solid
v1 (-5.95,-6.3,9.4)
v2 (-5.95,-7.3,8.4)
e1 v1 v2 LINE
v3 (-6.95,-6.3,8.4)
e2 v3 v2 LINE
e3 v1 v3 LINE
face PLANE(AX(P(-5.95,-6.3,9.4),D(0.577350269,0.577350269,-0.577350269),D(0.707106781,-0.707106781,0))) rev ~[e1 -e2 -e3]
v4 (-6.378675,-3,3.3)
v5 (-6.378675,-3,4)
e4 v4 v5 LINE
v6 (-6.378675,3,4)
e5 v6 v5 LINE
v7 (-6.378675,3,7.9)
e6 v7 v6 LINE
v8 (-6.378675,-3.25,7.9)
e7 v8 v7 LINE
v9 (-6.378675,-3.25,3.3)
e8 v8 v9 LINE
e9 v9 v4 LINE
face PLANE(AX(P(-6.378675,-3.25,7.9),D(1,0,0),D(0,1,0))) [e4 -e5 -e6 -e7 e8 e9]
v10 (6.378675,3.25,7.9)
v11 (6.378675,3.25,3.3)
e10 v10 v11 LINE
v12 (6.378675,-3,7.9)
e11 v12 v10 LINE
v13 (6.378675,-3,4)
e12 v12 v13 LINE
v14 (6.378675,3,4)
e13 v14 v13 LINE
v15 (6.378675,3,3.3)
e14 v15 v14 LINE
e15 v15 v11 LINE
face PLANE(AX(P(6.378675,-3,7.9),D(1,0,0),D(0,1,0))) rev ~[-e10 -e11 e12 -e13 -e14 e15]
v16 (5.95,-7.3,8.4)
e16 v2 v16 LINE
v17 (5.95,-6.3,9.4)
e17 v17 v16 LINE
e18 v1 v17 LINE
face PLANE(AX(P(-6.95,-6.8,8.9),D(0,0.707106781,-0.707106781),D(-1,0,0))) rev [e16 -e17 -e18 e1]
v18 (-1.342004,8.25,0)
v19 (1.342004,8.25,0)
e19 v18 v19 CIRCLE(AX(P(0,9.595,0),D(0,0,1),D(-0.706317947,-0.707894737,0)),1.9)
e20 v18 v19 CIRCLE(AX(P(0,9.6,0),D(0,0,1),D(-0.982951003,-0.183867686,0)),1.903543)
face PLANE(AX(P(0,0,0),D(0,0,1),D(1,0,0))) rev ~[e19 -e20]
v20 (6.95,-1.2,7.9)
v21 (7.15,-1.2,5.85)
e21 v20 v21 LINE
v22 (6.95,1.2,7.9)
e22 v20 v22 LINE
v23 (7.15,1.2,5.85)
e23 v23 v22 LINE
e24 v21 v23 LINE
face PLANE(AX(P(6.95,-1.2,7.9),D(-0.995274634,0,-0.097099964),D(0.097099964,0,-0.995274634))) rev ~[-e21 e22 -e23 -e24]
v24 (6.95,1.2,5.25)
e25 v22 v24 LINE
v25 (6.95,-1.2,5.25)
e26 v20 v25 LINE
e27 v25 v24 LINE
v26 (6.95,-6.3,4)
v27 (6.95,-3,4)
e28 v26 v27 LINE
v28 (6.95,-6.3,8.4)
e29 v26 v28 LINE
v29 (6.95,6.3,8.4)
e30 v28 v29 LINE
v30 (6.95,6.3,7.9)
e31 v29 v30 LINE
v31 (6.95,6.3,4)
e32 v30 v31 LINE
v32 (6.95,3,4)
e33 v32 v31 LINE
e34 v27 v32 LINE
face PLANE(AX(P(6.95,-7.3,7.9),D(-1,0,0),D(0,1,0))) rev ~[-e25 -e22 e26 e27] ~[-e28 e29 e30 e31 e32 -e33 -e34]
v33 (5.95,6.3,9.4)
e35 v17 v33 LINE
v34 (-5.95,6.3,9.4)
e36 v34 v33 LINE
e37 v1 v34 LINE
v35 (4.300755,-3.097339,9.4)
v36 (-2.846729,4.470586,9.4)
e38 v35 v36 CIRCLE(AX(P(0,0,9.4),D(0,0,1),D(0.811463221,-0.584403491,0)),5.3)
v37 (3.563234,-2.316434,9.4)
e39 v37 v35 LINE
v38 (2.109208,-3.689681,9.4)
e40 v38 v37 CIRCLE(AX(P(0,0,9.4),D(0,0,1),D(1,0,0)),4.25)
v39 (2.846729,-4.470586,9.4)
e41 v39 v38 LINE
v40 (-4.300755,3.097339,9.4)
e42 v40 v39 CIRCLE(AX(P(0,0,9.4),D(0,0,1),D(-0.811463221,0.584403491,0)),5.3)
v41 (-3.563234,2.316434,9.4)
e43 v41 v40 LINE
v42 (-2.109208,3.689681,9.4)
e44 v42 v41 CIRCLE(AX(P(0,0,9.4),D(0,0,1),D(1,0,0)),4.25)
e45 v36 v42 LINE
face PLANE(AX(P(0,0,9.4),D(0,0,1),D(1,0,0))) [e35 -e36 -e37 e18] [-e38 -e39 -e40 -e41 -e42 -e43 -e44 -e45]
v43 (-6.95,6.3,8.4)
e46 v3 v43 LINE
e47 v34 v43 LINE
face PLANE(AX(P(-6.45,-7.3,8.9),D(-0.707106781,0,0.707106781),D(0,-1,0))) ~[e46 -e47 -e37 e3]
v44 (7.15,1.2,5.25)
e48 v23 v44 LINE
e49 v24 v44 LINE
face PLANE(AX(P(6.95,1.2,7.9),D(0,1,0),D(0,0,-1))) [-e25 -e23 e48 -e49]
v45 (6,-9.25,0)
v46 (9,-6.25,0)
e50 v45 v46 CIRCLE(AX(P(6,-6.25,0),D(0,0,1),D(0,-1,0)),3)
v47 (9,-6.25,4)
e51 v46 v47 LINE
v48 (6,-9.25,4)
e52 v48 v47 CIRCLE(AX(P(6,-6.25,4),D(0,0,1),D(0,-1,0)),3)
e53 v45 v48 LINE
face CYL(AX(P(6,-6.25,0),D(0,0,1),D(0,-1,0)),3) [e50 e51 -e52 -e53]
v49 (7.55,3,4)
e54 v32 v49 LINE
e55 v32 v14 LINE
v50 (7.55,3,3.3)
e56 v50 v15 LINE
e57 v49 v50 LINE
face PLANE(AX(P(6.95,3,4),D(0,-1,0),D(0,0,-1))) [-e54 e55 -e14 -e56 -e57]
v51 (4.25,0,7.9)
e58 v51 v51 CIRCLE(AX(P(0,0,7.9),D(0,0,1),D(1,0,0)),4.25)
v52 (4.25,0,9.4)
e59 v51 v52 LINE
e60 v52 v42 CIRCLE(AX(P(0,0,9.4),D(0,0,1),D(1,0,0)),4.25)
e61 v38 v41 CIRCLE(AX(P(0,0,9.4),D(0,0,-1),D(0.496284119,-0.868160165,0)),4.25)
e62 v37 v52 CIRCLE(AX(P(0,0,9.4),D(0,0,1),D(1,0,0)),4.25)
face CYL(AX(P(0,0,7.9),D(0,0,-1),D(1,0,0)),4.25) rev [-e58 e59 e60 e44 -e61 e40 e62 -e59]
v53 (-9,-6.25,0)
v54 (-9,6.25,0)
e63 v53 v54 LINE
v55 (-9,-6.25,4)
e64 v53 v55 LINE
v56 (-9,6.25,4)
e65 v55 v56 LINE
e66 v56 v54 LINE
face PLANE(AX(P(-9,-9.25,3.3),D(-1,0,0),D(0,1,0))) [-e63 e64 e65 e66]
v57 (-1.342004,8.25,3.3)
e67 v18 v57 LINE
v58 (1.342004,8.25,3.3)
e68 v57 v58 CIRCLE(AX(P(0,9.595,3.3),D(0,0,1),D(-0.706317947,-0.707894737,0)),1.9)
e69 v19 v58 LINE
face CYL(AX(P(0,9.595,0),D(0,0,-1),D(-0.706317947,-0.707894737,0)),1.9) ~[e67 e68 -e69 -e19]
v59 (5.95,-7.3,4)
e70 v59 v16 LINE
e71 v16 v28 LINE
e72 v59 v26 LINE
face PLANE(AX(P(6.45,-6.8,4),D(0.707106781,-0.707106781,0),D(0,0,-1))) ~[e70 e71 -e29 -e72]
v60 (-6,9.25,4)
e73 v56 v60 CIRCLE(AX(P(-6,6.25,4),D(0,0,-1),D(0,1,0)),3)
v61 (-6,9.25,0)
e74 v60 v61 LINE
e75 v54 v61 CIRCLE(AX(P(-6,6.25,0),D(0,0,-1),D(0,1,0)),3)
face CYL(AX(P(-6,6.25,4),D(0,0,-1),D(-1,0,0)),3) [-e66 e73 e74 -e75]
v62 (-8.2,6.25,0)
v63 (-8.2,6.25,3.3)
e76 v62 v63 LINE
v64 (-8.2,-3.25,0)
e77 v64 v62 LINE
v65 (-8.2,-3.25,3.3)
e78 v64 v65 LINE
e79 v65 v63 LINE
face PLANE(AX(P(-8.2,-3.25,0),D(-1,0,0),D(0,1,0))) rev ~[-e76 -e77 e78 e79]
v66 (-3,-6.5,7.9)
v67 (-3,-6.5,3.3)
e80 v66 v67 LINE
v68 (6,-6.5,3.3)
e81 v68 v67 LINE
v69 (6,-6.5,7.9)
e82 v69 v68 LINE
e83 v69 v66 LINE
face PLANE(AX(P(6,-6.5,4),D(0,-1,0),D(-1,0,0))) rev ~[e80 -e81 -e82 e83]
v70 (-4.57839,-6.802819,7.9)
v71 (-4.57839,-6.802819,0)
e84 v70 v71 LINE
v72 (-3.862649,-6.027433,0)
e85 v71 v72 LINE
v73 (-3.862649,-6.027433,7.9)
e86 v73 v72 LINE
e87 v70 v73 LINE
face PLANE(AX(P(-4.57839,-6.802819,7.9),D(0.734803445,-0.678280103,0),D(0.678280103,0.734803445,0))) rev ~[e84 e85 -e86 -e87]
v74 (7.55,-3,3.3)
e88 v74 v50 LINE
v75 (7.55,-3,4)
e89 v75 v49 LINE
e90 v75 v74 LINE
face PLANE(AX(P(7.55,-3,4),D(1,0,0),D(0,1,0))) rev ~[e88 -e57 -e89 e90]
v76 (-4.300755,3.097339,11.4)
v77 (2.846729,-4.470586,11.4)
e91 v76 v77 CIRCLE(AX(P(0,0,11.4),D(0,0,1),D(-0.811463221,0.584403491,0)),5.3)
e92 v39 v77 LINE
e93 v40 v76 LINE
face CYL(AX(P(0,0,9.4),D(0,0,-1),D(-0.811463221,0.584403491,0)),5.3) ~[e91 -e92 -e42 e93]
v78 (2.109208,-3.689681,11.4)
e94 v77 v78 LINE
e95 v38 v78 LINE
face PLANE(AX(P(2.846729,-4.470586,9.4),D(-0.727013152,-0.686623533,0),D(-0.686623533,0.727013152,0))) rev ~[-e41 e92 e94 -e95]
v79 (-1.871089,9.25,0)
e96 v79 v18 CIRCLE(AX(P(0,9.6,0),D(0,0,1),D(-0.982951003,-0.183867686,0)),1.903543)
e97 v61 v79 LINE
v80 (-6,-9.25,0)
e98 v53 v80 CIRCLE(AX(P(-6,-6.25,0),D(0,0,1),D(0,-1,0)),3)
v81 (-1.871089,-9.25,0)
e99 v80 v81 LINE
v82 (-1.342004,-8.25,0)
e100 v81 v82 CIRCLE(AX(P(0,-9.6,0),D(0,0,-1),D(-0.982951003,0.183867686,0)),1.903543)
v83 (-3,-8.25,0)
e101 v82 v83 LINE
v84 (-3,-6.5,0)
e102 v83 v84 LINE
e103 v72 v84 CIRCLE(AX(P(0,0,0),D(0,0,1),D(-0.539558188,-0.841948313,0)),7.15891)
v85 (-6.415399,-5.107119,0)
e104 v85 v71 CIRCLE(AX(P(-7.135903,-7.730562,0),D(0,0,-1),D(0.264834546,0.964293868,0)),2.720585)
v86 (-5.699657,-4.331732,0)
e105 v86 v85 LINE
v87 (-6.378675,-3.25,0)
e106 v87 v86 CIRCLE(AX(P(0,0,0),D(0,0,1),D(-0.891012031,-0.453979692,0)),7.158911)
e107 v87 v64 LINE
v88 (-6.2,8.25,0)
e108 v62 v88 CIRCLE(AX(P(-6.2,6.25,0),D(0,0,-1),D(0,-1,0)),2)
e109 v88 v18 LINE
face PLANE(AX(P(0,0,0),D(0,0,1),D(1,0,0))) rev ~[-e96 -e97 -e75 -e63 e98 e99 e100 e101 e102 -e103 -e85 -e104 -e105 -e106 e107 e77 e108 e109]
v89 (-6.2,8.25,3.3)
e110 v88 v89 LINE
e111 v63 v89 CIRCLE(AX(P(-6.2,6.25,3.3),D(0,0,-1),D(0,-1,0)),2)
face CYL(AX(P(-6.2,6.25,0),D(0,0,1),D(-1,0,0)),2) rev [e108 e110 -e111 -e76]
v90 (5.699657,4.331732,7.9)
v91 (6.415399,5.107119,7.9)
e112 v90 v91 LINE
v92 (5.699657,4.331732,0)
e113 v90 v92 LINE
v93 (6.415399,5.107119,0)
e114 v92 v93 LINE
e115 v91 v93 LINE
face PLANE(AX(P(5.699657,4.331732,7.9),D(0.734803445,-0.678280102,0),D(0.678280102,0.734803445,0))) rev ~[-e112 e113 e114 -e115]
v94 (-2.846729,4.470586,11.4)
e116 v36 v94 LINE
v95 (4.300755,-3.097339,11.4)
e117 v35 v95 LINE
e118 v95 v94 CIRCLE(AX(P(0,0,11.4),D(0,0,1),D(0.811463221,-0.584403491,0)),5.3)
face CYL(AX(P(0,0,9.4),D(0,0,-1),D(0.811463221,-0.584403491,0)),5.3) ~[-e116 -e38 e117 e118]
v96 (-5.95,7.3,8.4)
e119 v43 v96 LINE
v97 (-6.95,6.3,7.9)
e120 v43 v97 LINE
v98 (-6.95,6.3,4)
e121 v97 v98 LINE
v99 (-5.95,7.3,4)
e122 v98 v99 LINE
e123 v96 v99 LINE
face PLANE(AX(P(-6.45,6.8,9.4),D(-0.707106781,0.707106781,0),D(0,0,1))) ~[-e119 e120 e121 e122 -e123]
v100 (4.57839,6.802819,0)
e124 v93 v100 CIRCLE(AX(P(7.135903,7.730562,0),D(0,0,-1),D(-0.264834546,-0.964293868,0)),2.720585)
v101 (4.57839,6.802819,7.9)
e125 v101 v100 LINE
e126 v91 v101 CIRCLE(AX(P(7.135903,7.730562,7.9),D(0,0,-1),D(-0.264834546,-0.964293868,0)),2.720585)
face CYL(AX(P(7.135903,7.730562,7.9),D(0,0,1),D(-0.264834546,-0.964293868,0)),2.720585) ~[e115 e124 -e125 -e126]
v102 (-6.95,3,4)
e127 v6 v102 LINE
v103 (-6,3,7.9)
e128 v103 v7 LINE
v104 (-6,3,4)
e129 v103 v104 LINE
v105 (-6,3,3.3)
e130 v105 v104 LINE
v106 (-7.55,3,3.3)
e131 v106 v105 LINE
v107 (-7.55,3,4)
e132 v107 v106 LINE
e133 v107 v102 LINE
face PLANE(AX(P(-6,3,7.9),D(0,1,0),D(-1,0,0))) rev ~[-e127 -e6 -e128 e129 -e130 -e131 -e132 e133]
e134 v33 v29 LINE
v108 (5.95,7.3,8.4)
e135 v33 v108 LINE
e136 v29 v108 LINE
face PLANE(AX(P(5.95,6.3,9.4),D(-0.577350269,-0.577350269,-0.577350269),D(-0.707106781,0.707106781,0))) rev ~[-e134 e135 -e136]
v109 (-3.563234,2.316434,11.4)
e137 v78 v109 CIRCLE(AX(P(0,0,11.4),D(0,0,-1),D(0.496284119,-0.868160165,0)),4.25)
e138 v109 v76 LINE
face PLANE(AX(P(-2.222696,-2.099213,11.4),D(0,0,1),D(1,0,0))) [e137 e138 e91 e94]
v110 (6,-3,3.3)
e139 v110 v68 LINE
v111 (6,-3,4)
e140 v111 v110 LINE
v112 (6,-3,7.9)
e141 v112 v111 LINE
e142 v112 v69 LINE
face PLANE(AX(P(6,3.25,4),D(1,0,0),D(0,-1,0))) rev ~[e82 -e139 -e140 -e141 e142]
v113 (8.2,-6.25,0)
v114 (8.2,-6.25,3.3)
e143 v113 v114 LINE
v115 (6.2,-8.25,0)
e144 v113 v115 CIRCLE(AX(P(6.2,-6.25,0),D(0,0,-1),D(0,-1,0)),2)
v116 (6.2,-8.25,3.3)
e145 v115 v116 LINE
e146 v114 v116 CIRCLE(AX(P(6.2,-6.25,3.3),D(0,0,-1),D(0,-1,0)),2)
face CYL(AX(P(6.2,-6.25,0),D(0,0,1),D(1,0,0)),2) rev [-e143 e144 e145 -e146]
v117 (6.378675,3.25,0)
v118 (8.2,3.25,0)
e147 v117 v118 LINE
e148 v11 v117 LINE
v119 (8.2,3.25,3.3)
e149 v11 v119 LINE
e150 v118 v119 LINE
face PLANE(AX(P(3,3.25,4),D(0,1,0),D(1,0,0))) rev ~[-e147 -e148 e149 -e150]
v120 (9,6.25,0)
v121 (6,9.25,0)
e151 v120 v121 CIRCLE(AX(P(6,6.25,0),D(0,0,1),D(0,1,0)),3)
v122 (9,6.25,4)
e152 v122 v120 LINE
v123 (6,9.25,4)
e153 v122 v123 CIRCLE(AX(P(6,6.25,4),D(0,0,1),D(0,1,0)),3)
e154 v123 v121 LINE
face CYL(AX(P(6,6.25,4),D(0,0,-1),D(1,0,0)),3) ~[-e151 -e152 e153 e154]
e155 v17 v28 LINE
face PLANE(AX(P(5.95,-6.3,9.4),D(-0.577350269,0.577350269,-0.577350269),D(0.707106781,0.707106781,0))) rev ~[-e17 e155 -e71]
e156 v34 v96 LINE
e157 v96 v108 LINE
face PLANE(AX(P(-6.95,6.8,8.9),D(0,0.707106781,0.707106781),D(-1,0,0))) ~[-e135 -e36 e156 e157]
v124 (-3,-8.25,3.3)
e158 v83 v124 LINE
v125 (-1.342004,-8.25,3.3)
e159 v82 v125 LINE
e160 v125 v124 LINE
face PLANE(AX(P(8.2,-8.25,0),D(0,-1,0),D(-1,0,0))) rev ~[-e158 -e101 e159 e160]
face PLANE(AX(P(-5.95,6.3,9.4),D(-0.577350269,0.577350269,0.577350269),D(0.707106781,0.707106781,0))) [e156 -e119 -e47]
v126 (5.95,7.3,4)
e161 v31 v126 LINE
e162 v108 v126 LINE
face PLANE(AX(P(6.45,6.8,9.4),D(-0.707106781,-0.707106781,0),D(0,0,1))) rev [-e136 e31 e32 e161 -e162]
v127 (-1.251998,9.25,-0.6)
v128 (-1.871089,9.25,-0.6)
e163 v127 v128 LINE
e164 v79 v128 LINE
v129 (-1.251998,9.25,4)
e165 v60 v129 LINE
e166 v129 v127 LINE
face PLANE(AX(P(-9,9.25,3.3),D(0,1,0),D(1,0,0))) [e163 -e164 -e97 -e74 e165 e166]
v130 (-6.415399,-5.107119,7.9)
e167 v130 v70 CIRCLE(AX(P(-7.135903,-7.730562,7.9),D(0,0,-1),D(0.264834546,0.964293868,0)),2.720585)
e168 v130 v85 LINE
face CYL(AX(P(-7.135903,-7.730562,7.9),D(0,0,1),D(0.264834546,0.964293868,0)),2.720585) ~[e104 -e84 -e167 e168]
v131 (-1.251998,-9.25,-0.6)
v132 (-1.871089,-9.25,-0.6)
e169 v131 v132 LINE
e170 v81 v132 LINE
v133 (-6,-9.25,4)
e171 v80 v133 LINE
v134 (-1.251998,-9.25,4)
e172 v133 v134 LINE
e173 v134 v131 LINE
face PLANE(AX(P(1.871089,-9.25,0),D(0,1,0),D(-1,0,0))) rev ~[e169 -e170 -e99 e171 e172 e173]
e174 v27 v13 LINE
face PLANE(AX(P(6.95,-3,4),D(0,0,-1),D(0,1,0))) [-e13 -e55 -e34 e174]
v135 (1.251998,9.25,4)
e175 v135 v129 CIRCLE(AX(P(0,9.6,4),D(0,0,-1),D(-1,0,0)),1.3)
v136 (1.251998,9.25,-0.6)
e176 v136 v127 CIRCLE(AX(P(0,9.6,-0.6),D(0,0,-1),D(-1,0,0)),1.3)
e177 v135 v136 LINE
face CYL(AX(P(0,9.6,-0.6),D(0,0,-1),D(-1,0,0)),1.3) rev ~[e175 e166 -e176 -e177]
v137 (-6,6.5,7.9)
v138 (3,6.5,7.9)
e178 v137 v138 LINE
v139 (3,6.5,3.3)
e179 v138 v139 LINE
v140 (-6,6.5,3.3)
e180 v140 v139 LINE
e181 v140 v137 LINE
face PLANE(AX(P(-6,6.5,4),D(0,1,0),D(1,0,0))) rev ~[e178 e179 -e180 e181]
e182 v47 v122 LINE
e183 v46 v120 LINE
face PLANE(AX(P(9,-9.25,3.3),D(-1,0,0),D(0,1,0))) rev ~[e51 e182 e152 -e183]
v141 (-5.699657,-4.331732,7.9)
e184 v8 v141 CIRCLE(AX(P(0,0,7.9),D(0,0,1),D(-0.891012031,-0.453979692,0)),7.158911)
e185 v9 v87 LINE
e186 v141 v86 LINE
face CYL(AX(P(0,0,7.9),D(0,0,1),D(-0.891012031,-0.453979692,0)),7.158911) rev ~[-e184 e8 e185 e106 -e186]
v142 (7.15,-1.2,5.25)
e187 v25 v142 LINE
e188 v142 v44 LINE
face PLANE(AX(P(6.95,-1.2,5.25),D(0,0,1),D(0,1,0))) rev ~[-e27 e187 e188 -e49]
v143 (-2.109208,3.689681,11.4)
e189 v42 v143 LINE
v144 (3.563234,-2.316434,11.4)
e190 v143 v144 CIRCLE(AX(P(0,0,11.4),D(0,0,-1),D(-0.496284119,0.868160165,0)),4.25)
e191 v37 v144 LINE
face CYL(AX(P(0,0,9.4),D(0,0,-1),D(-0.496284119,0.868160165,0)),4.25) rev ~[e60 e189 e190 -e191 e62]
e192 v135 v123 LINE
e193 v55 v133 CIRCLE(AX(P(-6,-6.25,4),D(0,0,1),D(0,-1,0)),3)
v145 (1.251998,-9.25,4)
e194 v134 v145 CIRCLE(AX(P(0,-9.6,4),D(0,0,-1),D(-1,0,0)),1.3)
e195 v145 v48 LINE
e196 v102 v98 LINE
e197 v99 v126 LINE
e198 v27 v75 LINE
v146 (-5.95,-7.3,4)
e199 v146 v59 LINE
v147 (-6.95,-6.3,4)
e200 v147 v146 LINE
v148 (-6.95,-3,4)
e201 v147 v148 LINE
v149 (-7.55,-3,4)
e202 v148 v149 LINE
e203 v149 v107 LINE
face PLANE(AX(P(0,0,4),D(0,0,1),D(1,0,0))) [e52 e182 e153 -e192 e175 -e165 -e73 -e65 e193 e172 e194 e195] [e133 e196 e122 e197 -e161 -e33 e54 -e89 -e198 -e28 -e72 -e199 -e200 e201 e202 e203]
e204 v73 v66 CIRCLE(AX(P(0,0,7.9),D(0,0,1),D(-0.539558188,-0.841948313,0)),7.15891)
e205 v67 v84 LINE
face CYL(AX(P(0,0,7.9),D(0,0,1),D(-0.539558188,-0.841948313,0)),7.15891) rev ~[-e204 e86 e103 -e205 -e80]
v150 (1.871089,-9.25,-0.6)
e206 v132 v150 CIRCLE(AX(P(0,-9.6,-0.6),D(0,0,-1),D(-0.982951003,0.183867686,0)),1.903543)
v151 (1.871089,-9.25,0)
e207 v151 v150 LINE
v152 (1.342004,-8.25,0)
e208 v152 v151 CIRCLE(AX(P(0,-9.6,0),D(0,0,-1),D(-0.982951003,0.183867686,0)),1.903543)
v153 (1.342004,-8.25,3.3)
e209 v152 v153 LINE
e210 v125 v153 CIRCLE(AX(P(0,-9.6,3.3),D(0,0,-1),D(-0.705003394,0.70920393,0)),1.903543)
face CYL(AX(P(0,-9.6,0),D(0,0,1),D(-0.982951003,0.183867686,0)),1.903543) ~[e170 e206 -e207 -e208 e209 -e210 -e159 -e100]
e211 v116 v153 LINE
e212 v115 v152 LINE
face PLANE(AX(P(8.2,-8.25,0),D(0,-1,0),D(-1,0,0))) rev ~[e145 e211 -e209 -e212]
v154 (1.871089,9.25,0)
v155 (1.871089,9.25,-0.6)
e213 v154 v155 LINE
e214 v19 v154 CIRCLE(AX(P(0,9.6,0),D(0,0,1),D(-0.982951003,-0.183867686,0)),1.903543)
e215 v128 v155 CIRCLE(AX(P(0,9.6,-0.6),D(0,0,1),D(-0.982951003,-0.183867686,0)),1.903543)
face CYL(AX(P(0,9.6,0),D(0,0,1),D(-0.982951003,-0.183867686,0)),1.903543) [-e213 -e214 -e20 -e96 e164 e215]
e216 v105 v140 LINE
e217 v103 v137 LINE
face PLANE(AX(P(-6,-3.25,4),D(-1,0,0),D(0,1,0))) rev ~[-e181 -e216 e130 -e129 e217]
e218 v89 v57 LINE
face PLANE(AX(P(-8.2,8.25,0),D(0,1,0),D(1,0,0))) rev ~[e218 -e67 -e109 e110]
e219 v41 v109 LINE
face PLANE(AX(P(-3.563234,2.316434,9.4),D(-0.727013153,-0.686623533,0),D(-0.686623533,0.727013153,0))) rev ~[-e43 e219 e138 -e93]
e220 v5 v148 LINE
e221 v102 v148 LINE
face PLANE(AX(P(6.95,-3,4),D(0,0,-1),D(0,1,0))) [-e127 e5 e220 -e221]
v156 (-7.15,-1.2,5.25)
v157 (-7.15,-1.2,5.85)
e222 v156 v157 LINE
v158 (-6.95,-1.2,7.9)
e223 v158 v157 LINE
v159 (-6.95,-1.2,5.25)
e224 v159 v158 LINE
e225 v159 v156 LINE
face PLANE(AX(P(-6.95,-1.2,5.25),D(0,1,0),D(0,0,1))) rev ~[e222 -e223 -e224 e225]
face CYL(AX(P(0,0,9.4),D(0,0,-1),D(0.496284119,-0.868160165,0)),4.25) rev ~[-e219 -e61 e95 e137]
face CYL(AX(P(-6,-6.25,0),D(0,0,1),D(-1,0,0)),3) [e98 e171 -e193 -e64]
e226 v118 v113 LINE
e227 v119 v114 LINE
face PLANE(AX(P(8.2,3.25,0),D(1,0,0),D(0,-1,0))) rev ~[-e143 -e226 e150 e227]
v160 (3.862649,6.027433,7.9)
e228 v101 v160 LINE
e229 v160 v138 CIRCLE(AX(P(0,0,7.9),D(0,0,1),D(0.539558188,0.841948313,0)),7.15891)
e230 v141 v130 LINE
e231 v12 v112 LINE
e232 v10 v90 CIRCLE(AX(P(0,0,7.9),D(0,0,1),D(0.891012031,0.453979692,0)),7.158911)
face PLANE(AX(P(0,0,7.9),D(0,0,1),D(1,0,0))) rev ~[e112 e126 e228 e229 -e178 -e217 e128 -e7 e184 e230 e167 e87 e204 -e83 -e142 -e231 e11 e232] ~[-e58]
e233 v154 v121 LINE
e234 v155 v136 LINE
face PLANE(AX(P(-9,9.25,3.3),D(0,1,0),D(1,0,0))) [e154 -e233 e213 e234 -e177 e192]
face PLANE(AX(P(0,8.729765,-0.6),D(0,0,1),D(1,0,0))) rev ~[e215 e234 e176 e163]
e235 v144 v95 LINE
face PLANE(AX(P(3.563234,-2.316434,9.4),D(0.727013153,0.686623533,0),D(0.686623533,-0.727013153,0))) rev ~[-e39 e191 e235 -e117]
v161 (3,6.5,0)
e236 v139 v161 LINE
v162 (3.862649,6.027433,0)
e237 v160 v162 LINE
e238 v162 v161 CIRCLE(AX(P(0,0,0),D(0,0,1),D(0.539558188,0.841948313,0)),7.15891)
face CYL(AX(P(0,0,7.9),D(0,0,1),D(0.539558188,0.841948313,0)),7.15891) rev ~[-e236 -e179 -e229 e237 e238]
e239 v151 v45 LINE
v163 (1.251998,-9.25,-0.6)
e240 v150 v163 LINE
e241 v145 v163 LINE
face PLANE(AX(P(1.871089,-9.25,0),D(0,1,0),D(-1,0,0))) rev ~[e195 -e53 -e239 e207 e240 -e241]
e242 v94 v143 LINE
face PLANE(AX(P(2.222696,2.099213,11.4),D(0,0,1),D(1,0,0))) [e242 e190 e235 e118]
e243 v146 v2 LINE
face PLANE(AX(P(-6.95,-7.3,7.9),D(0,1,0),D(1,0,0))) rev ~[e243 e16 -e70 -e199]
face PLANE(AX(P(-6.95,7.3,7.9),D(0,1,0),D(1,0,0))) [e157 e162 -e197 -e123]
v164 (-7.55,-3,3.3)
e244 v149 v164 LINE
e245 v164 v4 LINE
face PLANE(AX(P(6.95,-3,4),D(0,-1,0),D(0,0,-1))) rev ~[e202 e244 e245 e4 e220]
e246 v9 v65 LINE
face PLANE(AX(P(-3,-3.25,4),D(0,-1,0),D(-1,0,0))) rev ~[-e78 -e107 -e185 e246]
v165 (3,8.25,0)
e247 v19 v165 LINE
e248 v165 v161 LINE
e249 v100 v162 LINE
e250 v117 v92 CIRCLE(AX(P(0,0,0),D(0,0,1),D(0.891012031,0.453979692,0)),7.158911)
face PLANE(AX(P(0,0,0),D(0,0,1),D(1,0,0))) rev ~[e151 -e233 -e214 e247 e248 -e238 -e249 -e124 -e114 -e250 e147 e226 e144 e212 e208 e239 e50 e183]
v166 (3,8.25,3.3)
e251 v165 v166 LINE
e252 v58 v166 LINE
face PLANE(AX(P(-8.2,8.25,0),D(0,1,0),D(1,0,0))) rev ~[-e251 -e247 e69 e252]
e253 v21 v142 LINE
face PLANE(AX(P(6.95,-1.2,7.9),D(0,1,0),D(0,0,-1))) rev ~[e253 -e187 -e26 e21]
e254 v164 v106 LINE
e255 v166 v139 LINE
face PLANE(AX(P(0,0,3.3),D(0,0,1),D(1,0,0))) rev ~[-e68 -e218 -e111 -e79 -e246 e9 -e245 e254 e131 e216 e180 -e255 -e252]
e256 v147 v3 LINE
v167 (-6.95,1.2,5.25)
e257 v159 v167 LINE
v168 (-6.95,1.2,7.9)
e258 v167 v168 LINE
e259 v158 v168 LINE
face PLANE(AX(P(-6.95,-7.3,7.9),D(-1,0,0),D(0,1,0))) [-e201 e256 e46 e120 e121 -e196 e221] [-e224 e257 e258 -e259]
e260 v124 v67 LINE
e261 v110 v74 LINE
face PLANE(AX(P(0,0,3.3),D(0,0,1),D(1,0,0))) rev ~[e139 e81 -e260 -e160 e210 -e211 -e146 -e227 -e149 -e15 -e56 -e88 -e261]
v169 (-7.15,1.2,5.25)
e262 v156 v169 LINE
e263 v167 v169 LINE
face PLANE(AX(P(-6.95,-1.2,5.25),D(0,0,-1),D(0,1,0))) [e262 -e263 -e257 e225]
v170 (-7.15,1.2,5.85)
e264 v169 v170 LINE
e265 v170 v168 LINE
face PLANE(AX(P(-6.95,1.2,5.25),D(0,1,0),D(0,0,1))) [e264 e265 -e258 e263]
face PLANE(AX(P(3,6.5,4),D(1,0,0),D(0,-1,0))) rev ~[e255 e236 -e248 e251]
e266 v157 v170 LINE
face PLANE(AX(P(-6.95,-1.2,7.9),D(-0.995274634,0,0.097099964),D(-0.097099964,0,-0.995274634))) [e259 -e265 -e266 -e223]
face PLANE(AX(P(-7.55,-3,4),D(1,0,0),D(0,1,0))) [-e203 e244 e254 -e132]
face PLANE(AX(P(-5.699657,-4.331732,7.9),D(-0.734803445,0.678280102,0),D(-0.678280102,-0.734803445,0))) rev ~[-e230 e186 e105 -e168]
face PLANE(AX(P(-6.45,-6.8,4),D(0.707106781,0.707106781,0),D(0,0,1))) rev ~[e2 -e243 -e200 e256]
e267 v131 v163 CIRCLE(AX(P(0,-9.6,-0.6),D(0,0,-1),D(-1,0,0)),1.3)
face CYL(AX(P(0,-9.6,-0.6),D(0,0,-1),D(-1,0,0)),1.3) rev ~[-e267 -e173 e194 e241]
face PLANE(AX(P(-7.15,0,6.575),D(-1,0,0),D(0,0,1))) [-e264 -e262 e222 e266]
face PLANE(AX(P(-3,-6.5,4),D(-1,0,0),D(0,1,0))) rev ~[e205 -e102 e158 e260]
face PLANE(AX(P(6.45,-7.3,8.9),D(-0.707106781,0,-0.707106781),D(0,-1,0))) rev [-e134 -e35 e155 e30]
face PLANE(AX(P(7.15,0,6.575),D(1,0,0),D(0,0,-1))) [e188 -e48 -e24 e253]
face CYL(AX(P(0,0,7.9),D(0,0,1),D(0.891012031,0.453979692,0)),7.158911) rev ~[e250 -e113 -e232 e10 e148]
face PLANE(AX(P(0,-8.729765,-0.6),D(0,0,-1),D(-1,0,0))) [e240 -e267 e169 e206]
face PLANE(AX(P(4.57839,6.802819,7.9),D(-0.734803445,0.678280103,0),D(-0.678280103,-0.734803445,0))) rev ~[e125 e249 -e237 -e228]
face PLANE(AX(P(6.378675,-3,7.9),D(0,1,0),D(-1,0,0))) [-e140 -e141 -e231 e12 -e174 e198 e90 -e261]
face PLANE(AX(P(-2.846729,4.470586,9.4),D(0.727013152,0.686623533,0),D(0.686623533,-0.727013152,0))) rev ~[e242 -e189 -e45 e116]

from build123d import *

# Parameters (mm, degrees)
SKETCH1_W            = 18
SKETCH1_H            = 18.5
BOSS_EXTRUDE1_DEPTH  = 3.3
SKETCH2_W            = 18
SKETCH2_H            = 18.5
BOSS_EXTRUDE2_DEPTH  = 0.7
FILLET1_R            = 3
SKETCH3_W            = 13.9
SKETCH3_H            = 14.6
BOSS_EXTRUDE3_DEPTH  = 3.9
SKETCH4_W            = 13.9
SKETCH4_H            = 14.6
SKETCH4_R            = 4.25
BOSS_EXTRUDE4_DEPTH  = 1.5
CHAMFER1_SIZE        = 1
BOSS_EXTRUDE5_DEPTH  = 2
SKETCH6_W            = 0.6
SKETCH6_H            = 6
CUT_EXTRUDE1_DEPTH   = 15.876911642
SKETCH7_W            = 0.7
SKETCH7_H            = 6
CUT_EXTRUDE2_DEPTH   = 14
SKETCH8_W            = 2.65
SKETCH8_H            = 2.4
BOSS_EXTRUDE6_DEPTH  = 0.2
SKETCH9_W            = 2.65
SKETCH9_H            = 2.4
BOSS_EXTRUDE7_DEPTH  = 0.2
CUT_EXTRUDE3_DEPTH   = 18.893085257
CUT_EXTRUDE5_START   = -7.9
CUT_EXTRUDE5_DEPTH   = 7.9
CUT_EXTRUDE7_START   = -4.6
SKETCH12_W           = 0.378675411
SKETCH12_H           = 6.25
CUT_EXTRUDE7_DEPTH   = 4.6
BOSS_EXTRUDE10_DEPTH = 3.3
FILLET2_R            = 2
BOSS_EXTRUDE11_DEPTH = 0.6
SKETCH15_R           = 1.3
CUT_EXTRUDE8_DEPTH   = 18.622783549


with BuildPart() as part:
    # Sketch1 → Boss-Extrude1 (new body)
    with BuildSketch(Plane.XY):
        Rectangle(SKETCH1_W, SKETCH1_H)
        Polygon((-3, -8.25), (-3, -3.25), (-8.2, -3.25), (-8.2, 8.25), (3, 8.25), (3, 3.25), (7.473843231, 3.25), (8.2, 3.25), (8.2, -8.25), align=None, mode=Mode.SUBTRACT)
    extrude(amount=BOSS_EXTRUDE1_DEPTH)

    # Sketch2 → Boss-Extrude2 (add)
    with BuildSketch(Plane.XY.offset(3.3)):
        Rectangle(SKETCH2_W, SKETCH2_H)
        Polygon((-6, 6.5), (3, 6.5), (3, 3.25), (6, 3.25), (6, -6.5), (-3, -6.5), (-3, -3.25), (-6, -3.25), align=None, mode=Mode.SUBTRACT)
    extrude(amount=BOSS_EXTRUDE2_DEPTH)

    # Fillet1
    fillet1_edges = [part.edges().sort_by_distance(p)[0] for p in [
        (-9, 9.25, 2),
        (9, 9.25, 2),
        (9, -9.25, 2),
        (-9, -9.25, 2),
    ]]
    fillet(fillet1_edges, radius=FILLET1_R)

    # Sketch3 → Boss-Extrude3 (add)
    with BuildSketch(Plane.XY.offset(4)):
        Rectangle(SKETCH3_W, SKETCH3_H)
        Polygon((-6, 6.5), (3, 6.5), (3, 3.25), (6, 3.25), (6, -6.5), (-3, -6.5), (-3, -3.25), (-6, -3.25), align=None, mode=Mode.SUBTRACT)
    extrude(amount=BOSS_EXTRUDE3_DEPTH)

    # Sketch4 → Boss-Extrude4 (add)
    with BuildSketch(Plane.XY.offset(7.9)):
        Rectangle(SKETCH4_W, SKETCH4_H)
        Circle(SKETCH4_R, mode=Mode.SUBTRACT)
    extrude(amount=BOSS_EXTRUDE4_DEPTH)

    # Chamfer1
    chamfer1_edges = [part.edges().sort_by_distance(p)[0] for p in [
        (-6.95, 7.3, 6.7),
        (-6.95, -7.3, 6.7),
        (6.95, -7.3, 6.7),
        (6.95, 7.3, 6.7),
        (-6.95, 0, 9.4),
        (0, -7.3, 9.4),
        (6.95, 0, 9.4),
        (0, 7.3, 9.4),
    ]]
    chamfer(chamfer1_edges, length=CHAMFER1_SIZE)

    # Sketch5 → Boss-Extrude5 (add)
    with BuildSketch(Plane.XY.offset(9.4)):
        with BuildLine():
            Line((-2.846728769, 4.470585567), (-2.109207508, 3.689680703))
            ThreePointArc((-2.109207508, 3.689680703), (3.089805898, 2.918150015), (3.563233813, -2.316433637))
            Line((3.563233813, -2.316433637), (4.300755074, -3.097338502))
            ThreePointArc((4.300755074, -3.097338502), (3.853169709, 3.639104725), (-2.846728769, 4.470585567))
        make_face()
        with BuildLine():
            Line((2.846728769, -4.470585567), (2.109207508, -3.689680703))
            ThreePointArc((2.109207508, -3.689680703), (-3.089805898, -2.918150015), (-3.563233813, 2.316433637))
            Line((-3.563233813, 2.316433637), (-4.300755074, 3.097338502))
            ThreePointArc((-4.300755074, 3.097338502), (-3.853169709, -3.639104725), (2.846728769, -4.470585567))
        make_face()
    extrude(amount=BOSS_EXTRUDE5_DEPTH)

    # Sketch6 → Cut-Extrude1 (cut, through all)
    with BuildSketch(Plane.XY.offset(4)):
        with Locations((7.25, 0)):
            Rectangle(SKETCH6_W, SKETCH6_H)
        with Locations((-7.25, 0)):
            Rectangle(SKETCH6_W, SKETCH6_H)
    extrude(amount=-CUT_EXTRUDE1_DEPTH, mode=Mode.SUBTRACT)

    # Sketch7 → Cut-Extrude2 (cut)
    with BuildSketch(Plane(origin=(6.95, 0, 0), x_dir=(0, 0, -1), z_dir=(1, 0, 0))):
        with Locations((-3.65, 0)):
            Rectangle(SKETCH7_W, SKETCH7_H)
    extrude(amount=-CUT_EXTRUDE2_DEPTH, mode=Mode.SUBTRACT)

    # Sketch8 → Boss-Extrude6 (add)
    with BuildSketch(Plane(origin=(6.95, 0, 0), x_dir=(0, 0, -1), z_dir=(1, 0, 0))):
        with Locations((-6.575, 0)):
            Rectangle(SKETCH8_W, SKETCH8_H)
    extrude(amount=BOSS_EXTRUDE6_DEPTH)

    # Sketch9 → Boss-Extrude7 (add)
    with BuildSketch(Plane.ZY.offset(6.95)):
        with Locations((6.575, 0)):
            Rectangle(SKETCH9_W, SKETCH9_H)
    extrude(amount=BOSS_EXTRUDE7_DEPTH)

    # Sketch10 → Cut-Extrude3 (cut, through all)
    with BuildSketch(Plane.XZ.offset(1.2)):
        Polygon((-6.95, 7.9), (-7.15, 5.85), (-7.15, 7.9), align=None)
        Polygon((6.95, 7.9), (7.15, 5.85), (7.15, 7.9), align=None)
    extrude(amount=-CUT_EXTRUDE3_DEPTH, mode=Mode.SUBTRACT)

    # Sketch11 → Cut-Extrude5 (cut)
    with BuildSketch(Plane(origin=(0, 0, 0), x_dir=(-1, 0, 0), z_dir=(0, 0, -1)).offset(CUT_EXTRUDE5_START)):
        with BuildLine():
            Line((-4.578389967, 6.802818924), (-3.862648789, 6.027432648))
            ThreePointArc((-3.862648789, 6.027432648), (-3.439450113, 6.278549428), (-3, 6.5))
            Line((-3, 6.5), (-3, 3.25))
            Line((-3, 3.25), (-6.378675411, 3.25))
            ThreePointArc((-6.378675411, 3.25), (-6.063337952, 3.806039001), (-5.699657401, 4.331732391))
            Line((-5.699657401, 4.331732391), (-6.415398578, 5.107118667))
            ThreePointArc((-6.415398578, 5.107118667), (-5.290584801, 5.731466868), (-4.578389967, 6.802818924))
        make_face()
        with BuildLine():
            Line((4.578389967, -6.802818924), (3.862648789, -6.027432648))
            ThreePointArc((3.862648789, -6.027432648), (3.439450113, -6.278549428), (3, -6.5))
            Line((3, -6.5), (3, -3.25))
            Line((3, -3.25), (6.378675411, -3.25))
            ThreePointArc((6.378675411, -3.25), (6.063337952, -3.806039001), (5.699657401, -4.331732391))
            Line((5.699657401, -4.331732391), (6.415398578, -5.107118667))
            ThreePointArc((6.415398578, -5.107118667), (5.290584801, -5.731466868), (4.578389967, -6.802818924))
        make_face()
    extrude(amount=CUT_EXTRUDE5_DEPTH, mode=Mode.SUBTRACT)

    # Sketch12 → Cut-Extrude7 (cut)
    with BuildSketch(Plane(origin=(0, 0, 3.3), x_dir=(-1, 0, 0), z_dir=(0, 0, -1)).offset(CUT_EXTRUDE7_START)):
        with Locations((-6.189337705, 0.125)):
            Rectangle(SKETCH12_W, SKETCH12_H)
        with Locations((6.189337705, -0.125)):
            Rectangle(SKETCH12_W, SKETCH12_H)
    extrude(amount=CUT_EXTRUDE7_DEPTH, mode=Mode.SUBTRACT)

    # Sketch13 → Boss-Extrude10 (add)
    with BuildSketch(Plane(origin=(0, 0, 0), x_dir=(-1, 0, 0), z_dir=(0, 0, -1))):
        with BuildLine():
            Line((-1.342004098, -8.25), (1.342004098, -8.25))
            ThreePointArc((1.342004098, -8.25), (0, -7.69645725), (-1.342004098, -8.25))
        make_face()
        with BuildLine():
            Line((-1.342004098, 8.25), (1.342004098, 8.25))
            ThreePointArc((1.342004098, 8.25), (0, 7.695), (-1.342004098, 8.25))
        make_face()
    extrude(amount=-BOSS_EXTRUDE10_DEPTH)

    # Fillet2
    fillet2_edges = [part.edges().sort_by_distance(p)[0] for p in [
        (-8.2, 8.25, 1.65),
        (8.2, -8.25, 1.65),
    ]]
    fillet(fillet2_edges, radius=FILLET2_R)

    # Sketch14 → Boss-Extrude11 (add)
    with BuildSketch(Plane(origin=(0, 0, 0), x_dir=(-1, 0, 0), z_dir=(0, 0, -1))):
        with BuildLine():
            Line((-1.871089255, -9.25), (1.871089255, -9.25))
            ThreePointArc((1.871089255, -9.25), (0, -7.69645725), (-1.871089255, -9.25))
        make_face()
        with BuildLine():
            Line((-1.871089255, 9.25), (1.871089255, 9.25))
            ThreePointArc((1.871089255, 9.25), (0, 7.69645725), (-1.871089255, 9.25))
        make_face()
    extrude(amount=BOSS_EXTRUDE11_DEPTH)

    # Sketch15 → Cut-Extrude8 (cut, through all)
    with BuildSketch(Plane(origin=(0, 0, -0.6), x_dir=(-1, 0, 0), z_dir=(0, 0, -1))):
        with Locations((0, 9.6)):
            Circle(SKETCH15_R)
        with Locations((0, -9.6)):
            Circle(SKETCH15_R)
    extrude(amount=-CUT_EXTRUDE8_DEPTH, mode=Mode.SUBTRACT)


solid = part.part
